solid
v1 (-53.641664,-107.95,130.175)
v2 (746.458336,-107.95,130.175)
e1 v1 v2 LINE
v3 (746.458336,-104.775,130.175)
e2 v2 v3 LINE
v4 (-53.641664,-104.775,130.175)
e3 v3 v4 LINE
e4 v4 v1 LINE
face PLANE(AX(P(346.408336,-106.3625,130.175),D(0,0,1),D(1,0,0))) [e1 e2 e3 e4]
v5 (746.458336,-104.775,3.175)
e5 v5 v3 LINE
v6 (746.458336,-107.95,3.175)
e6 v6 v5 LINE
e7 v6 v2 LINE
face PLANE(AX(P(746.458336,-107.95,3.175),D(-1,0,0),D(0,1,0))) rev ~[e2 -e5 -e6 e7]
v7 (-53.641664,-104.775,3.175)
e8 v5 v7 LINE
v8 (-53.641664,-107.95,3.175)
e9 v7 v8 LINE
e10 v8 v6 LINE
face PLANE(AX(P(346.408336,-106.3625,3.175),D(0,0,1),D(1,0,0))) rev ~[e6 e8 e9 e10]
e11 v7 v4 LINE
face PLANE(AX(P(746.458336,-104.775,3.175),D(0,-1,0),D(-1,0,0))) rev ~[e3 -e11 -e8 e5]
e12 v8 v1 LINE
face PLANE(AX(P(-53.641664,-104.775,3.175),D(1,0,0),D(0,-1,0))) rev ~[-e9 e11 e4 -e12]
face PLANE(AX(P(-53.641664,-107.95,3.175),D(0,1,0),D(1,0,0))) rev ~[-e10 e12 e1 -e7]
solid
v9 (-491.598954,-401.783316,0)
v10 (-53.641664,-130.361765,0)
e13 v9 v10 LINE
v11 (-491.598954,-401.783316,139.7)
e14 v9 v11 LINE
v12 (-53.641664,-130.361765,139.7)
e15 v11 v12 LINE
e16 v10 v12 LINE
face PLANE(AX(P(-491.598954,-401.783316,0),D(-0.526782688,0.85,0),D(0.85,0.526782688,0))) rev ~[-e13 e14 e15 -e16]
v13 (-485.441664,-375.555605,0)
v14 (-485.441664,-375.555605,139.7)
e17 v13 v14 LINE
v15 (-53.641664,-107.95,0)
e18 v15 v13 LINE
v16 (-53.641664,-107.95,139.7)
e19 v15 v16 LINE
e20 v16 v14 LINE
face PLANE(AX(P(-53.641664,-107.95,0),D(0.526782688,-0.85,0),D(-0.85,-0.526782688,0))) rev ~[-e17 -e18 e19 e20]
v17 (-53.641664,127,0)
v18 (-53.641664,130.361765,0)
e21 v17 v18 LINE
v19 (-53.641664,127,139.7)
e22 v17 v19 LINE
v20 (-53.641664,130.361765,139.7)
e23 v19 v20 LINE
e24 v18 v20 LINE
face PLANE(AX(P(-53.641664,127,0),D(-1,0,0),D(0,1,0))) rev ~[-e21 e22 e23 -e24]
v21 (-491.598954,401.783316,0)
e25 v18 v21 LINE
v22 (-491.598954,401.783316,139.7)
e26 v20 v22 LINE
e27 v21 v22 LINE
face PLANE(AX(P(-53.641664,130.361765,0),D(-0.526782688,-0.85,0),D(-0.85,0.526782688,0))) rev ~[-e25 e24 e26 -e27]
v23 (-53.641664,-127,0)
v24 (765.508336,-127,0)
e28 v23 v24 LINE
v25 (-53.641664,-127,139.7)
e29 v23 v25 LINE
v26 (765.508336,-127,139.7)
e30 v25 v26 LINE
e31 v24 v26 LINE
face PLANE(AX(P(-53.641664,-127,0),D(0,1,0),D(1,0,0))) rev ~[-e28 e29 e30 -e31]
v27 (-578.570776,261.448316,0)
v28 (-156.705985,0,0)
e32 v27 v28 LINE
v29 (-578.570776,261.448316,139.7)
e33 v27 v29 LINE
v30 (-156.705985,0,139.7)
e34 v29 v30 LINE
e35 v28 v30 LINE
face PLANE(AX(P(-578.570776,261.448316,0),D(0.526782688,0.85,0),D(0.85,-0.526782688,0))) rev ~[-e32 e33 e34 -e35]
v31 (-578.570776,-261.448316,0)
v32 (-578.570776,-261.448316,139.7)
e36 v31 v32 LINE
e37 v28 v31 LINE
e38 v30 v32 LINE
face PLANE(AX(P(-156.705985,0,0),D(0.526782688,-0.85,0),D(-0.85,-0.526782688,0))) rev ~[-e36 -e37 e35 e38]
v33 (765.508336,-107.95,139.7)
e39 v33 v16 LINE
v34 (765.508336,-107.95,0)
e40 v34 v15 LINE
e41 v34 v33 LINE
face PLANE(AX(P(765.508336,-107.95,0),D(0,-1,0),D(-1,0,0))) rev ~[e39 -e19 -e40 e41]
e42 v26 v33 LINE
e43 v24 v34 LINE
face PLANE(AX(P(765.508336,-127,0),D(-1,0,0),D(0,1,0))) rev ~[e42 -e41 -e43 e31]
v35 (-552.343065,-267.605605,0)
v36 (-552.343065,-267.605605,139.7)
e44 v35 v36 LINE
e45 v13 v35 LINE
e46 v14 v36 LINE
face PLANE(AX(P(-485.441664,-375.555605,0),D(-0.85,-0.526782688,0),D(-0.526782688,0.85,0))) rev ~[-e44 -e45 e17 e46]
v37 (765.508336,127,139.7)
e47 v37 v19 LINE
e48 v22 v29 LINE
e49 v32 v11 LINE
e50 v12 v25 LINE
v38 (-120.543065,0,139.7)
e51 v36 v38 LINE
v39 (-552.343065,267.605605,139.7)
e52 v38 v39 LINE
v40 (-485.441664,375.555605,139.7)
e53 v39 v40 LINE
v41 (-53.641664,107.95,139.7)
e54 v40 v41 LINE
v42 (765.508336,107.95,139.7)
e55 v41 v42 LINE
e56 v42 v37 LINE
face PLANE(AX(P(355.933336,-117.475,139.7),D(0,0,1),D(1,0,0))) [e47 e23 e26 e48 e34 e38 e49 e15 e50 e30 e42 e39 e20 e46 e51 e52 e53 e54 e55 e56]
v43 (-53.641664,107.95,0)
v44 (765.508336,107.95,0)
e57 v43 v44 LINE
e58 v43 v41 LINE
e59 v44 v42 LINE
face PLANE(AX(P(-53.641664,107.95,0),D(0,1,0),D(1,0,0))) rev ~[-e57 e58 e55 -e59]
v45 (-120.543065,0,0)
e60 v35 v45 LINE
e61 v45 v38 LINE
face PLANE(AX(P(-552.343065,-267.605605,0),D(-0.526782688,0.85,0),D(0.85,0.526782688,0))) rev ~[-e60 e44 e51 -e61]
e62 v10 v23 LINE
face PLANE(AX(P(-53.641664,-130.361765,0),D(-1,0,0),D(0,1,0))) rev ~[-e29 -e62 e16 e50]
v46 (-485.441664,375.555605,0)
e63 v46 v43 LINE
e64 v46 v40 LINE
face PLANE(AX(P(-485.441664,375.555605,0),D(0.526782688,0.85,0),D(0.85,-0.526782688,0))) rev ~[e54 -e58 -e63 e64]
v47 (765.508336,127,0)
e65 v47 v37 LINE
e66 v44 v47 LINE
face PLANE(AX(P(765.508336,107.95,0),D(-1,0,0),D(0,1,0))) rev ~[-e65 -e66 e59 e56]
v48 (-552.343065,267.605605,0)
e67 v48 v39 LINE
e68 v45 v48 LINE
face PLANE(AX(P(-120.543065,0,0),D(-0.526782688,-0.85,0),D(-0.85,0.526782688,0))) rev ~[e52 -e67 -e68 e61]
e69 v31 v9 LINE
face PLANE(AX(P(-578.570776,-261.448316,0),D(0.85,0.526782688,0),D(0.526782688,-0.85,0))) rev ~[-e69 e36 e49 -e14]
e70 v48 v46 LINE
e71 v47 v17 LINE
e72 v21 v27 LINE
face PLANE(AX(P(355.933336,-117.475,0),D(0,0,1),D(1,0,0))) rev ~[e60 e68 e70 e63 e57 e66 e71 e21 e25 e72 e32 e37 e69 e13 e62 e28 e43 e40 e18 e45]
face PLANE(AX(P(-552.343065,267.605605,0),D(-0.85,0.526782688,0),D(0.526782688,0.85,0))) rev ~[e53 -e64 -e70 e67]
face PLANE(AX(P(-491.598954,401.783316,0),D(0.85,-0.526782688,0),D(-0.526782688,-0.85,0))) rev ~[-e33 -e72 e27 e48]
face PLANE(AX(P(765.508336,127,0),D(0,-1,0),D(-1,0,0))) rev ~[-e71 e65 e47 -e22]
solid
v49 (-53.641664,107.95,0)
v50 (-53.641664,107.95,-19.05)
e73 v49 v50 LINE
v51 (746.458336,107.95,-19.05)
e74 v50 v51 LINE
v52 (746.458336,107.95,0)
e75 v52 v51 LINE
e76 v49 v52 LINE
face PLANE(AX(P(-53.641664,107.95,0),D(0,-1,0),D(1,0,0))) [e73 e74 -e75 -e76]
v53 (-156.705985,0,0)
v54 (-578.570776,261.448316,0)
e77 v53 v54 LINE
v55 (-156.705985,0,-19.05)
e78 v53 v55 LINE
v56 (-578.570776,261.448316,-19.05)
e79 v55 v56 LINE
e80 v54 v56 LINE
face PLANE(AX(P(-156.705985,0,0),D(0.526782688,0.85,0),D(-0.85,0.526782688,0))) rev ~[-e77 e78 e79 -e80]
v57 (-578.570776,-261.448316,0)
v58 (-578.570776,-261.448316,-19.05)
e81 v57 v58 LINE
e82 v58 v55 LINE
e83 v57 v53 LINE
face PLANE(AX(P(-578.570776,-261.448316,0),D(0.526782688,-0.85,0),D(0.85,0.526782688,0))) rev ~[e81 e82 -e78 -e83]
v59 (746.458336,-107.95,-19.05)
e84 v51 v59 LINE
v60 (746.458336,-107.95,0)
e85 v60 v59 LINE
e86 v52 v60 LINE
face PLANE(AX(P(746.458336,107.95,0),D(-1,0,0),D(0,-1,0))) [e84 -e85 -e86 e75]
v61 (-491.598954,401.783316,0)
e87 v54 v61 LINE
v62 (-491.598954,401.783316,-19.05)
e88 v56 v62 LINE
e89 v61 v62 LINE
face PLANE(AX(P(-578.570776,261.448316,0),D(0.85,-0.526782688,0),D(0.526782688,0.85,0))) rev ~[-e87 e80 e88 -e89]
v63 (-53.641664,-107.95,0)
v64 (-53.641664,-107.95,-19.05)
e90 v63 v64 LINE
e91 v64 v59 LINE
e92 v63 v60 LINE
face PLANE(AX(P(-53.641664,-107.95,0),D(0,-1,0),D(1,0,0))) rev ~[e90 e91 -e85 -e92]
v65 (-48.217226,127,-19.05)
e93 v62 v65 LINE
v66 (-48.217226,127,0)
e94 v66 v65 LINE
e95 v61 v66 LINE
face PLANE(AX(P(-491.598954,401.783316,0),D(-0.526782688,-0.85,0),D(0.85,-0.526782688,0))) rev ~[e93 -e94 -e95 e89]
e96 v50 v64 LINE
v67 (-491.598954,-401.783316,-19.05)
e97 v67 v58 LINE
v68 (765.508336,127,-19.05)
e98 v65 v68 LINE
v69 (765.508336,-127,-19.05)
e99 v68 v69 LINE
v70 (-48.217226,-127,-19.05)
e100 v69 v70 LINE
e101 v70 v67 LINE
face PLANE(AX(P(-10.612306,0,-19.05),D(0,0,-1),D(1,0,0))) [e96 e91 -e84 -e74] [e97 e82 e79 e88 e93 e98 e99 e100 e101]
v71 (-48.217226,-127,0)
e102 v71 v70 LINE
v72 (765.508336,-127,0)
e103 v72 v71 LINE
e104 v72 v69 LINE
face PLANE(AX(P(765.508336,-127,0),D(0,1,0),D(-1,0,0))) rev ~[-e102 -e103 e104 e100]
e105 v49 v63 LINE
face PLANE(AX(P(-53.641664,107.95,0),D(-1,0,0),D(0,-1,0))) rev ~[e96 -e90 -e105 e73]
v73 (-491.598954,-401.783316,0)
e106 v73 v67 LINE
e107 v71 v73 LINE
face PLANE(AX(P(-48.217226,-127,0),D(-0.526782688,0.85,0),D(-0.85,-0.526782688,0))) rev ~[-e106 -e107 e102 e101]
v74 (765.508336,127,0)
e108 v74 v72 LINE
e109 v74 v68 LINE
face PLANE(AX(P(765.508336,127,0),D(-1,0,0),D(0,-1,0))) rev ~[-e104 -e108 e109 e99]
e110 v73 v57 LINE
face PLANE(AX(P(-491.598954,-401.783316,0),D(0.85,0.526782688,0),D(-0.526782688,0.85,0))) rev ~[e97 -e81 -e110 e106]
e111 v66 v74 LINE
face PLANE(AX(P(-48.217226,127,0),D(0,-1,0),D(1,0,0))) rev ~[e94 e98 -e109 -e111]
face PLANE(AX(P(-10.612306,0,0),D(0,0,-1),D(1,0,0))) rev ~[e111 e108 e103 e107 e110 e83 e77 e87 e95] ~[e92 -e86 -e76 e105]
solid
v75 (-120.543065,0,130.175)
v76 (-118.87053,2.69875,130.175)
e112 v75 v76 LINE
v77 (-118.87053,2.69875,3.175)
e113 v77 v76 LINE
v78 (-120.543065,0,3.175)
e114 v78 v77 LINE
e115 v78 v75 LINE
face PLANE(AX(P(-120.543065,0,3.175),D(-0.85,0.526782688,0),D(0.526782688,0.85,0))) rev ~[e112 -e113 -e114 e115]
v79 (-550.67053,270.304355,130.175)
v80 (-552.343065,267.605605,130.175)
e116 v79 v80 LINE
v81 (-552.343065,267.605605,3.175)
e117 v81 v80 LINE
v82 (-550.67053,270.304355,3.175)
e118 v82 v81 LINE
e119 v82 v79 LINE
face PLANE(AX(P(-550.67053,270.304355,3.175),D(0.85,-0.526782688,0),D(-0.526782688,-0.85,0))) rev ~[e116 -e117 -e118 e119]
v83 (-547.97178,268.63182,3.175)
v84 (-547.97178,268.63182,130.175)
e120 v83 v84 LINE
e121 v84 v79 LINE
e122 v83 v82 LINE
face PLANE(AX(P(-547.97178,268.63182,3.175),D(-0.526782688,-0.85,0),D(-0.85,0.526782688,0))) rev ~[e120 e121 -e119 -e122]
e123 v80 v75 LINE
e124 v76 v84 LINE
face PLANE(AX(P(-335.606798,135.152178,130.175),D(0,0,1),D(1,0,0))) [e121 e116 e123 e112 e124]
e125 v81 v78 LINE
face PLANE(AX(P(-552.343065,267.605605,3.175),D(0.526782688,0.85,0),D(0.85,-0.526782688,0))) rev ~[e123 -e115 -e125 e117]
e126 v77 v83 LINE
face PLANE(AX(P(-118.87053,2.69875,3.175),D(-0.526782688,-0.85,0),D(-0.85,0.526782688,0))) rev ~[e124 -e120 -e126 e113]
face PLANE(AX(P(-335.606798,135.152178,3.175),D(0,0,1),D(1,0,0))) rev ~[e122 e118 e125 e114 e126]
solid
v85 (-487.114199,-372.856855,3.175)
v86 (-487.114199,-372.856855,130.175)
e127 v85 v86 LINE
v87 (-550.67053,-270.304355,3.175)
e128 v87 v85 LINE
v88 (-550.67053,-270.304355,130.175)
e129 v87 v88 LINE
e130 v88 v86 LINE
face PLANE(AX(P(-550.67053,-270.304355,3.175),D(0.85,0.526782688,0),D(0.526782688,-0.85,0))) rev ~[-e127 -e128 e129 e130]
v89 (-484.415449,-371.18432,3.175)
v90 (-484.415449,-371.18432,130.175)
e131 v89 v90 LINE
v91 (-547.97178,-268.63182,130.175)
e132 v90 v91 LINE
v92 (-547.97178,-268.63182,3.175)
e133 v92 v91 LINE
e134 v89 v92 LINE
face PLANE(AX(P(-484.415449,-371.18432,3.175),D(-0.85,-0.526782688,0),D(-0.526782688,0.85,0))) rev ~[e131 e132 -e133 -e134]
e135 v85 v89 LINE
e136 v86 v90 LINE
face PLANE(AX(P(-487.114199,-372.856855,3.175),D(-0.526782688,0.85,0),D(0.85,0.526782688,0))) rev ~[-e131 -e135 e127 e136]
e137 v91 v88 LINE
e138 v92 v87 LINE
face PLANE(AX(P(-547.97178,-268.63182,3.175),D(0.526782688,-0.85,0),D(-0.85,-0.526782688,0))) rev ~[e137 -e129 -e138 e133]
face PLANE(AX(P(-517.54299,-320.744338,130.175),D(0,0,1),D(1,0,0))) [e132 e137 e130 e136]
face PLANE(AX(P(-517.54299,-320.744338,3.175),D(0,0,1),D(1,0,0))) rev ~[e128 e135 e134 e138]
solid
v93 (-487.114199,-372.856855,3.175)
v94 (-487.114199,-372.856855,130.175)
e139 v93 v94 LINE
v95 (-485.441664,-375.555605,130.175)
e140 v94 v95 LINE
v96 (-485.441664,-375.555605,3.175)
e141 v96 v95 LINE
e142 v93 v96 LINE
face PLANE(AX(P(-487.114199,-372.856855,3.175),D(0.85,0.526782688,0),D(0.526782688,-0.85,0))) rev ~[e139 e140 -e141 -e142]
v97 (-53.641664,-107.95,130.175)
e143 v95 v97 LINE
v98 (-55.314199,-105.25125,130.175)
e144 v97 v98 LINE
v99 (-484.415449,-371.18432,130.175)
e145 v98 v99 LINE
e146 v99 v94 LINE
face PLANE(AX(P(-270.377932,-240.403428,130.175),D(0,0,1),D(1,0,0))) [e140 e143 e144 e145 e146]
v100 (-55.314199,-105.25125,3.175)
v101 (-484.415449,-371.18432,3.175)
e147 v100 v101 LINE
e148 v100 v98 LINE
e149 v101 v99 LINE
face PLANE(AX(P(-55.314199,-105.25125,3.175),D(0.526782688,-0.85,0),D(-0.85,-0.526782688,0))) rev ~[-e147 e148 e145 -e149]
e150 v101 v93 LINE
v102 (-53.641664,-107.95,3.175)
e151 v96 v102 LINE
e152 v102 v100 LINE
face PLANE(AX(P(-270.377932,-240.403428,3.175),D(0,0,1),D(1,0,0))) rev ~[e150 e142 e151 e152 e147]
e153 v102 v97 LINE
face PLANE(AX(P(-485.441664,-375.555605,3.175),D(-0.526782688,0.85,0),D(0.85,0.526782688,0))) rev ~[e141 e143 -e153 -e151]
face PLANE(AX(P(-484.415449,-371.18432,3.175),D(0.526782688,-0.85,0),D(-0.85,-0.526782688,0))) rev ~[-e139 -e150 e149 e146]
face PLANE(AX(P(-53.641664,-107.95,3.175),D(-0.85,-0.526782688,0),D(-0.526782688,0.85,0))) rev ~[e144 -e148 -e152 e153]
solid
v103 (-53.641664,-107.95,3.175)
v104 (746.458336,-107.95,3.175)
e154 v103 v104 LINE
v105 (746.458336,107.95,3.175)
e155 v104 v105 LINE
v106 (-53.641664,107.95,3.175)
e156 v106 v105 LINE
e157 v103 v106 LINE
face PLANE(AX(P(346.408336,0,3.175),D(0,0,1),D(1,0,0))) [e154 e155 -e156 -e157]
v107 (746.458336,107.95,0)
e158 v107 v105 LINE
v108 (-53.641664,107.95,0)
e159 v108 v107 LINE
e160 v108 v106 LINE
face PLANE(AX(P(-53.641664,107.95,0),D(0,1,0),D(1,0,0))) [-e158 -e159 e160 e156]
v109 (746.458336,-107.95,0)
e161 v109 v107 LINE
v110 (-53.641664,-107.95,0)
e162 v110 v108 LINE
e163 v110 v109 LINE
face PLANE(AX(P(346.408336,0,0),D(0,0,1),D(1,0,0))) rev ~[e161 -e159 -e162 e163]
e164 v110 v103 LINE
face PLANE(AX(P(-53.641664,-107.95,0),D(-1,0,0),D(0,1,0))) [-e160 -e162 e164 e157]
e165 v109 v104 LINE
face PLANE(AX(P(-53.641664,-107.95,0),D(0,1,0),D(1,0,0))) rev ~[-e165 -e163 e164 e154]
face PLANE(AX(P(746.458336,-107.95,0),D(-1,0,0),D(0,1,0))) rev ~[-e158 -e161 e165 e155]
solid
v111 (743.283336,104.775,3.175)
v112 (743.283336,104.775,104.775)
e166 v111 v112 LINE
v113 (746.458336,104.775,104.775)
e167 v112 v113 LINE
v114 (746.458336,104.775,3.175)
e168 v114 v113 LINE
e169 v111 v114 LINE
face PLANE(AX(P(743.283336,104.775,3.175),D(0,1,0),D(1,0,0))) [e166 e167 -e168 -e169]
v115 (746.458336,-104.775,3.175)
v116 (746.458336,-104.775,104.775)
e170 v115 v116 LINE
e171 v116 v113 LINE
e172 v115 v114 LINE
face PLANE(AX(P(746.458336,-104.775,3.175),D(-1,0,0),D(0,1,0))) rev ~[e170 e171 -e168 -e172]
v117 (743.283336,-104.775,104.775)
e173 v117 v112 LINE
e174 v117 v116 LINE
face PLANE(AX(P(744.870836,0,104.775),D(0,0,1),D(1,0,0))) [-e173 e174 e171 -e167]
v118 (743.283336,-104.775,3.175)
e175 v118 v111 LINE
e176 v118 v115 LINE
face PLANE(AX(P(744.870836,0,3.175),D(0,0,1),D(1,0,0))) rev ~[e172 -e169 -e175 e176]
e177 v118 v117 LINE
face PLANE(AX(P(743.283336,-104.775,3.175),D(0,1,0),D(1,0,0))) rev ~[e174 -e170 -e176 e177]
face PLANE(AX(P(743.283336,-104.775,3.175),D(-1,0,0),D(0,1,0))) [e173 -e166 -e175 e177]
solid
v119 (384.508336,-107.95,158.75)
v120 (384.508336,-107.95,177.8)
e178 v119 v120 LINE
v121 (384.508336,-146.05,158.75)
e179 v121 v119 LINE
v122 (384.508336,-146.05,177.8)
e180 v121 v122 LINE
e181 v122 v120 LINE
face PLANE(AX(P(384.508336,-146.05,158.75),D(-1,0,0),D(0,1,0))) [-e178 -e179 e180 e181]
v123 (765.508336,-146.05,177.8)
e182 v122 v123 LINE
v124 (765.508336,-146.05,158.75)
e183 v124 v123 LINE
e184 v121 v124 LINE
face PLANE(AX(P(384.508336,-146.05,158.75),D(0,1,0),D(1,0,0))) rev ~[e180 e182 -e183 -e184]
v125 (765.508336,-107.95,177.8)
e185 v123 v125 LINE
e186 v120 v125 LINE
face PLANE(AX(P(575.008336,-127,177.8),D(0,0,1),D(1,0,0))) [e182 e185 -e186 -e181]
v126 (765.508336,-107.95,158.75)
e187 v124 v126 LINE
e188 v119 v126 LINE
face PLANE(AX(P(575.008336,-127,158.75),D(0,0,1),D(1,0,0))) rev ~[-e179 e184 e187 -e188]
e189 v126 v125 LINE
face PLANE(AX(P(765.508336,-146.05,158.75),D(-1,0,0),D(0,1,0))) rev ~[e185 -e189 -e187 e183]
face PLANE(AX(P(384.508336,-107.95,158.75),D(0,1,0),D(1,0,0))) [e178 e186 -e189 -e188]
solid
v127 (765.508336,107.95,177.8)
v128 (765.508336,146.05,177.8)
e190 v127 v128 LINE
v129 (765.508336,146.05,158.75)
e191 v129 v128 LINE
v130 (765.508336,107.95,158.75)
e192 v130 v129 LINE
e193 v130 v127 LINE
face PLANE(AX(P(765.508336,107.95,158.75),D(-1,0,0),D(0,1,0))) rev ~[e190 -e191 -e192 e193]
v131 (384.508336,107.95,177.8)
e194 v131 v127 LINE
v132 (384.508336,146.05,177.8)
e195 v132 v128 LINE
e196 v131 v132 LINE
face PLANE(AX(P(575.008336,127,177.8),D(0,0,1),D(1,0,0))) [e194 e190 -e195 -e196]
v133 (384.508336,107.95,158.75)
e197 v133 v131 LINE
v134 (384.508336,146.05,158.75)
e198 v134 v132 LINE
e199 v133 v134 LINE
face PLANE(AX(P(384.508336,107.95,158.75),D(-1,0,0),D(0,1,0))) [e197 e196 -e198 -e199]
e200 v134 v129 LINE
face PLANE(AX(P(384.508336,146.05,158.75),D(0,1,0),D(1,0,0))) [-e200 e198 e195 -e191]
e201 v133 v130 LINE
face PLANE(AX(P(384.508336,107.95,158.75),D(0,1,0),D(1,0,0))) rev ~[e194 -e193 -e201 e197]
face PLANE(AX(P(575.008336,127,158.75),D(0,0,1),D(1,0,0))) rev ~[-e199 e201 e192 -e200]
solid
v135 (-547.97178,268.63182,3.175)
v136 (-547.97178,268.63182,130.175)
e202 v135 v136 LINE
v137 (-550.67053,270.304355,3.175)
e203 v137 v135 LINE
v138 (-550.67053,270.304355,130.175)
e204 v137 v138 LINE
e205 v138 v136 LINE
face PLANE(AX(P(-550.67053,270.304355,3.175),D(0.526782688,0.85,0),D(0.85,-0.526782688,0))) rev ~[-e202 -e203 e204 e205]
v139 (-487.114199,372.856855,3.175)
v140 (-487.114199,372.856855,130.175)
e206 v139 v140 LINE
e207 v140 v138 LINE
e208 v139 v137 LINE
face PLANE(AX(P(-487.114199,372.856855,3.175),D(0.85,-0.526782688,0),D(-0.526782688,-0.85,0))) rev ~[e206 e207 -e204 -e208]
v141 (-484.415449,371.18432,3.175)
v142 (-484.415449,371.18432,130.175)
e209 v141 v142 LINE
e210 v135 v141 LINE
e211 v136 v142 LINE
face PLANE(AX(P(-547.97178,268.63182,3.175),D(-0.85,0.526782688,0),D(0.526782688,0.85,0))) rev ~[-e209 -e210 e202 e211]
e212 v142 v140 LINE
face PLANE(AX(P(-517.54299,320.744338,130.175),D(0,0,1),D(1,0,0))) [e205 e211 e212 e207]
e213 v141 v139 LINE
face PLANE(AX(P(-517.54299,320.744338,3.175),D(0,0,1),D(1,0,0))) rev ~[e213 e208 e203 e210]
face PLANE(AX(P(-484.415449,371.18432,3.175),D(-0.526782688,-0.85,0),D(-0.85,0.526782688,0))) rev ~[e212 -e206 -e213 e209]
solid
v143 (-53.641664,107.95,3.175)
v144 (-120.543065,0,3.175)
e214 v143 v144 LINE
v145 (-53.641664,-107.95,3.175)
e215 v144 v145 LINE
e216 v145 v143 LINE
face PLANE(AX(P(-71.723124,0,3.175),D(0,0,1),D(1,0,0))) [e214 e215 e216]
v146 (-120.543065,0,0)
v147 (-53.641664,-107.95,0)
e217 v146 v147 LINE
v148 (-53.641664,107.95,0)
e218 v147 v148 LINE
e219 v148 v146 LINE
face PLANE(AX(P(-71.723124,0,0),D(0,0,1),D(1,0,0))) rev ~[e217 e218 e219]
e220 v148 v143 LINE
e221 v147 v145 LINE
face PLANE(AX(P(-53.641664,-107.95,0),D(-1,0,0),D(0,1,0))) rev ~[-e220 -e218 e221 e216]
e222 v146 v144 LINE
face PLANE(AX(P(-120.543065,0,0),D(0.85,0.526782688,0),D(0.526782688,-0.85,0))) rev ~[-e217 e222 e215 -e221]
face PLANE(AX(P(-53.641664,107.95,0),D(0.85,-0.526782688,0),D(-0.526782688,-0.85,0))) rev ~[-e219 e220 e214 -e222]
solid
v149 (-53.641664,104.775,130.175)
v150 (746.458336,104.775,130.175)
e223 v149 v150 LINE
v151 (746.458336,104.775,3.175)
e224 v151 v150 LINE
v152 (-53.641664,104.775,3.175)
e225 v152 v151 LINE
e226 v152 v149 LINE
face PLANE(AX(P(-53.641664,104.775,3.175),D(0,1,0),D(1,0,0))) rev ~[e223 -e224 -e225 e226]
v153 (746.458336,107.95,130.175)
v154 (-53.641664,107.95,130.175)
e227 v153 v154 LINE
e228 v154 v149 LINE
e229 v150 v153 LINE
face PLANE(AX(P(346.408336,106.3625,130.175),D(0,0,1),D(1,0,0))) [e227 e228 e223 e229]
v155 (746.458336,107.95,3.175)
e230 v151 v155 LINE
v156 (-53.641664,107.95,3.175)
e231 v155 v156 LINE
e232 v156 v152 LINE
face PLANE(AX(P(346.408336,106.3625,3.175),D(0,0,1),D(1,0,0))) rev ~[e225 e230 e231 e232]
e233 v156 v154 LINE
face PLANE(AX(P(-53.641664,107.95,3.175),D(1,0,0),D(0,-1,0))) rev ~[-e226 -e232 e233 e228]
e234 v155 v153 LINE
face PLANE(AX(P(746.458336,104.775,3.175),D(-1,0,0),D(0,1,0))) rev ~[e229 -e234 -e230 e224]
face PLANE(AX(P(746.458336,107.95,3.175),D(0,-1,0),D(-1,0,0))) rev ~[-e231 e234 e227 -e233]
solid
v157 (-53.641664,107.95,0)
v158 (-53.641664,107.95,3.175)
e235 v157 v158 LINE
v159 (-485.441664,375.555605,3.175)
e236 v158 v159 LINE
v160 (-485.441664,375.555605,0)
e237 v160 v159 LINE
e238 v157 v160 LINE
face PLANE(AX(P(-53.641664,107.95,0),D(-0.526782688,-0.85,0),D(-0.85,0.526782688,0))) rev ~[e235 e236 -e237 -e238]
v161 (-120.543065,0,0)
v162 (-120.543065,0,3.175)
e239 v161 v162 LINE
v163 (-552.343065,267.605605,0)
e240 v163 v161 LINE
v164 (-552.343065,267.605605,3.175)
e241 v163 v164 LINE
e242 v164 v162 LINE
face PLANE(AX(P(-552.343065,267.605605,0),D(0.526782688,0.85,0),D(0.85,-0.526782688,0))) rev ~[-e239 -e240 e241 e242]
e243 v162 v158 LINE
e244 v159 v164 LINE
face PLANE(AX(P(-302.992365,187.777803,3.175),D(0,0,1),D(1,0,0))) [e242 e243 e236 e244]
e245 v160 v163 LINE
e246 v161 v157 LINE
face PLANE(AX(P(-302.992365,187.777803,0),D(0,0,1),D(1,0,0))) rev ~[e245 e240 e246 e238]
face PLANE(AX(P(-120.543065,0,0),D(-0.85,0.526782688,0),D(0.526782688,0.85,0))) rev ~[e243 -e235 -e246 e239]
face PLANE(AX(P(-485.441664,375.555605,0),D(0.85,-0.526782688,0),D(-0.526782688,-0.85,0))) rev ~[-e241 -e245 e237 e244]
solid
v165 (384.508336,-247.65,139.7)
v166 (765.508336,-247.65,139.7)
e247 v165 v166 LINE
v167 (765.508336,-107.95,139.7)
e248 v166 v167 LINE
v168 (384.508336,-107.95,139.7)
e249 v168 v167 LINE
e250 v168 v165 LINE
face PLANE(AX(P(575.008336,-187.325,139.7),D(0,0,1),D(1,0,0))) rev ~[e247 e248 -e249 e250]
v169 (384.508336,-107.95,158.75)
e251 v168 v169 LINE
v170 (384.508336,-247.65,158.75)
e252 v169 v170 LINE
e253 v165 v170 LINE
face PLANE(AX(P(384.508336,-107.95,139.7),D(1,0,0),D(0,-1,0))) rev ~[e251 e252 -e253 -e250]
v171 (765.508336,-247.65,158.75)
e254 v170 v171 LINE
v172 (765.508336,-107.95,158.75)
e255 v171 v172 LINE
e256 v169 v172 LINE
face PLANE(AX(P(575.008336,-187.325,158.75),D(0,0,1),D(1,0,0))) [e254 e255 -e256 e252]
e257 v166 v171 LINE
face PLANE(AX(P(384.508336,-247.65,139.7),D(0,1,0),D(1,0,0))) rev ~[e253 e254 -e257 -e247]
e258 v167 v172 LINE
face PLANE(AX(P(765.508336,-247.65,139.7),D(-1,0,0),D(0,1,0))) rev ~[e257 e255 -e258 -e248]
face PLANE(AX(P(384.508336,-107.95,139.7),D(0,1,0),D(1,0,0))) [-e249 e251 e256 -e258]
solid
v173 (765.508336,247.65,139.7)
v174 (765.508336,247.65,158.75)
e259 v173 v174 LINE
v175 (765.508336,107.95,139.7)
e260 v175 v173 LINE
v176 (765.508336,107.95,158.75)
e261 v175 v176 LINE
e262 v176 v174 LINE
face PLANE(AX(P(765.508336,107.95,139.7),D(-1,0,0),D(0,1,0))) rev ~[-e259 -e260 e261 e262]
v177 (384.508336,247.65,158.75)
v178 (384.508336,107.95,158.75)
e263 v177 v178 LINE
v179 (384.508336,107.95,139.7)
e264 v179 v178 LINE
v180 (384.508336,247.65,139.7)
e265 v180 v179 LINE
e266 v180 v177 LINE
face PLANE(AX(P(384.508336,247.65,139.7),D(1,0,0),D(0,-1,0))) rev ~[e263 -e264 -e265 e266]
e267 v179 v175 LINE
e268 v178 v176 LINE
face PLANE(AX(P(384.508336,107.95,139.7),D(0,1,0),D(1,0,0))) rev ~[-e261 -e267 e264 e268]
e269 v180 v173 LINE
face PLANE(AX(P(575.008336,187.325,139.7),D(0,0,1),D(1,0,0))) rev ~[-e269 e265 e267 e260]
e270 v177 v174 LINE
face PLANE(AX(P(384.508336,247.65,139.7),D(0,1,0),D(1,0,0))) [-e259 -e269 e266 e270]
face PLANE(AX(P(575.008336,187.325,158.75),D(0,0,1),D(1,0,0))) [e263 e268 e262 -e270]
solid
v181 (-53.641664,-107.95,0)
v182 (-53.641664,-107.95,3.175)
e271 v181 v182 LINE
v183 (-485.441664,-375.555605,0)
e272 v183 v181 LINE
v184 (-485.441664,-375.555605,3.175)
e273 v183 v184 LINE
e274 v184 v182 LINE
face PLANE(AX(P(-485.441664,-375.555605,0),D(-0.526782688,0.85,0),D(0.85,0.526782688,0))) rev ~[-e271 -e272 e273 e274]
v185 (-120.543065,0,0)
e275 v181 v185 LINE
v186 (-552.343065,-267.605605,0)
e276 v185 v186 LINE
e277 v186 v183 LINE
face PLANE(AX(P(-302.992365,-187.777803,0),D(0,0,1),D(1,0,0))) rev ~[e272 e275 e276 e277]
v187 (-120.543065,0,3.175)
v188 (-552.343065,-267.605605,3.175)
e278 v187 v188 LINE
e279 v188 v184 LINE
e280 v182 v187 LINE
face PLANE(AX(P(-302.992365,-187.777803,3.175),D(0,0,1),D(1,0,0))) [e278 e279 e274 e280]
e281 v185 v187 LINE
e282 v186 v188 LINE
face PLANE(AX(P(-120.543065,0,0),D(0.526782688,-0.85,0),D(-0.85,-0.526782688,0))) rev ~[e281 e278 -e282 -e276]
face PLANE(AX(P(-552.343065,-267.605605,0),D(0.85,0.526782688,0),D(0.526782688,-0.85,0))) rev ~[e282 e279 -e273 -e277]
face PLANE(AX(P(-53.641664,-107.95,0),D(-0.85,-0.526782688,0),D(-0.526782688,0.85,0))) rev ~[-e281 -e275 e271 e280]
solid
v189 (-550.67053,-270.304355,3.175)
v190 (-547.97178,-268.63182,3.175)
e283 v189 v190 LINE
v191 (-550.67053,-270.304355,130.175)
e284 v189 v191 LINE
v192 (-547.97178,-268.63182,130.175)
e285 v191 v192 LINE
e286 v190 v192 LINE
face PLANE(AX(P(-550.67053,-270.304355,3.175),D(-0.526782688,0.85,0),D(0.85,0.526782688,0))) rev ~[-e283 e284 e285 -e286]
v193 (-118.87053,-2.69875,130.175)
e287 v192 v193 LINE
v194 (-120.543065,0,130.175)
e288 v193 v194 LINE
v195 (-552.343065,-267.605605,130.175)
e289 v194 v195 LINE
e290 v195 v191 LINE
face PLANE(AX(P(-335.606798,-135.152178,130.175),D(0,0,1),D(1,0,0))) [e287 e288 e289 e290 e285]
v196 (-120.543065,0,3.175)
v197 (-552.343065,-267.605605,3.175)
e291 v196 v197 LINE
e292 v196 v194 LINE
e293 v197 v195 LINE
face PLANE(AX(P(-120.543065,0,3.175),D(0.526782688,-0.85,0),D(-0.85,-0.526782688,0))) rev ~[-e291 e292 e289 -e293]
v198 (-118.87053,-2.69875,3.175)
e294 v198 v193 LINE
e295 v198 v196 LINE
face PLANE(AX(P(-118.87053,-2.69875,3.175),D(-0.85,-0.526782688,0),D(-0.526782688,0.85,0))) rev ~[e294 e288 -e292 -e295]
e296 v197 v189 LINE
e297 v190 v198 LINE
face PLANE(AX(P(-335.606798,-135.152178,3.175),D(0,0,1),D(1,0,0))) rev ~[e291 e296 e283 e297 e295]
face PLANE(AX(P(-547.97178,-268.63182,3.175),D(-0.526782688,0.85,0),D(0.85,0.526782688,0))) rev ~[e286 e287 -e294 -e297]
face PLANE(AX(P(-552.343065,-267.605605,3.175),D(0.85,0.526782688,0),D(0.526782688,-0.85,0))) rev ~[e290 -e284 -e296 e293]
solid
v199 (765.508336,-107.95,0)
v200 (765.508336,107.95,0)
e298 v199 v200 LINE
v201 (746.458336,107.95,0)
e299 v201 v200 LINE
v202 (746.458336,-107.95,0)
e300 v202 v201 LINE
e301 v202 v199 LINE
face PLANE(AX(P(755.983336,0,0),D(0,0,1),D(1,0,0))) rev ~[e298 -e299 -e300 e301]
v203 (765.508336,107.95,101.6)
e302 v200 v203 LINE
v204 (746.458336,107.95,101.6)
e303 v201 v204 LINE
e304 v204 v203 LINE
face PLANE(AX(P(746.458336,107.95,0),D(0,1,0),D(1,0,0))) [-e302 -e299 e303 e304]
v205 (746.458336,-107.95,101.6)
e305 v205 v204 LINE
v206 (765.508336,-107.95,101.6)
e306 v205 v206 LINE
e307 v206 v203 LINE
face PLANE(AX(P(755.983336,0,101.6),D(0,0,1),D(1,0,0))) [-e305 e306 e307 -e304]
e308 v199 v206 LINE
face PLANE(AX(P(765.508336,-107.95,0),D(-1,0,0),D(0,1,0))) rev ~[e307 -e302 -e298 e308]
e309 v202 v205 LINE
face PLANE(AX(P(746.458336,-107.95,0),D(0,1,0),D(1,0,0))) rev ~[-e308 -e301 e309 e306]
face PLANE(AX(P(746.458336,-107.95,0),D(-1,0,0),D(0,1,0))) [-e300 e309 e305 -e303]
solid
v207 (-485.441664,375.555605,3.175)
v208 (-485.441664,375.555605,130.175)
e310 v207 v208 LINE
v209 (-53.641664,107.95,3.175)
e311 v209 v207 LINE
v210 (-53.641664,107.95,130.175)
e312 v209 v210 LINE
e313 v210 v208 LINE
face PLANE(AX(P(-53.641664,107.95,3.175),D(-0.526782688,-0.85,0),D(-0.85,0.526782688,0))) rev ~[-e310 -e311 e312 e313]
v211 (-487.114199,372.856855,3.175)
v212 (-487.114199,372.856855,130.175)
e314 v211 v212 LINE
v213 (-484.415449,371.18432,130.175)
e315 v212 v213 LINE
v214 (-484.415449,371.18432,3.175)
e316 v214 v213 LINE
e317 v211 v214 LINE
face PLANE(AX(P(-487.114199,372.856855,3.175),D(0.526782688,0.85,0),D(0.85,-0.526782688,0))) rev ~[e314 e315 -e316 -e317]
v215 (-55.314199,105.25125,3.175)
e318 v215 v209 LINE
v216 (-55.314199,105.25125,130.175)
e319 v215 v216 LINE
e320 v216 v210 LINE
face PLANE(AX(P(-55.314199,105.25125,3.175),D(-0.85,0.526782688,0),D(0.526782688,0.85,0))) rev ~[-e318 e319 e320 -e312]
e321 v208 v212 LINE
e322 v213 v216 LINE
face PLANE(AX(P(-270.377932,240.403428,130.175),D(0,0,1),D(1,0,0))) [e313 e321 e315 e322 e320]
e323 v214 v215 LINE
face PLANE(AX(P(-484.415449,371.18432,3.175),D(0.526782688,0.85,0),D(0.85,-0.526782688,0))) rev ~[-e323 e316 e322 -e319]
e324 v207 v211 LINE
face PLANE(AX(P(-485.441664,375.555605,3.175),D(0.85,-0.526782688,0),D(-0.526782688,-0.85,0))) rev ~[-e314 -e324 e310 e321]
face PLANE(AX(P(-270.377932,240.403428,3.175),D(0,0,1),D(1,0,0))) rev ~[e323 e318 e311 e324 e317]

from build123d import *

# Parameters (mm, degrees)
F1_DEPTH  = 3.175
F2_DEPTH  = 3.175
F3_DEPTH  = 3.175
F0_W      = 800.1
F0_H      = 215.9
F4_DEPTH  = 3.175
F6_DEPTH  = 127
F7_DEPTH  = 127
F8_DEPTH  = 127
F9_DEPTH  = 127
F10_DEPTH = 127
F11_DEPTH = 127
F12_DEPTH = 127
F5_W      = 3.175
F5_H      = 209.55
F13_DEPTH = 101.6
F14_DEPTH = 127
F15_W     = 800.1
F15_H     = 215.9
F16_DEPTH = 19.05
F18_DEPTH = 139.7
F17_W     = 19.05
F17_H     = 215.9
F19_DEPTH = 101.6
F20_W     = 381
F20_H     = 120.65
F20_H_2   = 19.05
F21_DEPTH = 19.05
F22_W     = 381
F22_H     = 38.1
F23_DEPTH = 19.05


with BuildPart() as f1:
    # F0 (on Top) → F1 (new body)
    with BuildSketch(Plane.XY):
        Polygon((-120.5430654606, 0), (-53.64166413, 107.95), (-485.44166413, 375.5556053225), (-552.3430654606, 267.6056053225), align=None)
    extrude(amount=F1_DEPTH)


with BuildPart() as f2:
    # F0 (on Top) → F2 (new body)
    with BuildSketch(Plane.XY):
        Polygon((-485.44166413, -375.5556053225), (-53.64166413, -107.95), (-120.5430654606, 0), (-552.3430654606, -267.6056053225), align=None)
    extrude(amount=F2_DEPTH)


with BuildPart() as f3:
    # F0 (on Top) → F3 (new body)
    with BuildSketch(Plane.XY):
        Polygon((-120.5430654606, 0), (-53.64166413, -107.95), (-53.64166413, 107.95), align=None)
    extrude(amount=F3_DEPTH)


with BuildPart() as f4:
    # F0 (on Top) → F4 (new body)
    with BuildSketch(Plane.XY):
        with Locations((346.40833587, 0)):
            Rectangle(F0_W, F0_H)
    extrude(amount=F4_DEPTH)


with BuildPart() as f6:
    # F5 (on face) → F6 (new body)
    with BuildSketch(Plane.XY.offset(3.175)):
        Polygon((-485.44166413, -375.5556053225), (-53.64166413, -107.95), (-55.3141991632, -105.25125), (-484.4154491632, -371.1843202892), (-487.1141991632, -372.8568553225), align=None)
    extrude(amount=F6_DEPTH)


with BuildPart() as f7:
    # F5 (on face) → F7 (new body)
    with BuildSketch(Plane.XY.offset(3.175)):
        Polygon((-550.6705304273, -270.3043553225), (-487.1141991632, -372.8568553225), (-484.4154491632, -371.1843202892), (-547.9717804273, -268.6318202892), align=None)
    extrude(amount=F7_DEPTH)


with BuildPart() as f8:
    # F5 (on face) → F8 (new body)
    with BuildSketch(Plane.XY.offset(3.175)):
        Polygon((-552.3430654606, -267.6056053225), (-550.6705304273, -270.3043553225), (-547.9717804273, -268.6318202892), (-118.8705304273, -2.69875), (-120.5430654606, 0), align=None)
    extrude(amount=F8_DEPTH)


with BuildPart() as f9:
    # F5 (on face) → F9 (new body)
    with BuildSketch(Plane.XY.offset(3.175)):
        Polygon((-547.9717804273, 268.6318202892), (-550.6705304273, 270.3043553225), (-552.3430654606, 267.6056053225), (-120.5430654606, 0), (-118.8705304273, 2.69875), align=None)
    extrude(amount=F9_DEPTH)


with BuildPart() as f10:
    # F5 (on face) → F10 (new body)
    with BuildSketch(Plane.XY.offset(3.175)):
        Polygon((-55.3141991632, 105.25125), (-53.64166413, 107.95), (-485.44166413, 375.5556053225), (-487.1141991632, 372.8568553225), (-484.4154491632, 371.1843202892), align=None)
    extrude(amount=F10_DEPTH)


with BuildPart() as f11:
    # F5 (on face) → F11 (new body)
    with BuildSketch(Plane.XY.offset(3.175)):
        Polygon((-484.4154491632, 371.1843202892), (-487.1141991632, 372.8568553225), (-550.6705304273, 270.3043553225), (-547.9717804273, 268.6318202892), align=None)
    extrude(amount=F11_DEPTH)


with BuildPart() as f12:
    # F5 (on face) → F12 (new body)
    with BuildSketch(Plane.XY.offset(3.175)):
        Polygon((743.28333587, -104.775), (-53.64166413, -104.775), (-53.64166413, -107.95), (746.45833587, -107.95), (746.45833587, -104.775), align=None)
    extrude(amount=F12_DEPTH)


with BuildPart() as f13:
    # F5 (on face) → F13 (new body)
    with BuildSketch(Plane.XY.offset(3.175)):
        with Locations((744.87083587, 0)):
            Rectangle(F5_W, F5_H)
    extrude(amount=F13_DEPTH)


with BuildPart() as f14:
    # F5 (on face) → F14 (new body)
    with BuildSketch(Plane.XY.offset(3.175)):
        Polygon((-53.64166413, 107.95), (-53.64166413, 104.775), (743.28333587, 104.775), (746.45833587, 104.775), (746.45833587, 107.95), align=None)
    extrude(amount=F14_DEPTH)


with BuildPart() as f16:
    # F15 (on face) → F16 (new body)
    with BuildSketch(Plane(origin=(0, 0, 0), x_dir=(1, 0, 0), z_dir=(0, 0, -1))):
        Polygon((765.50833587, -127), (765.50833587, 127), (-48.2172261842, 127), (-491.5989539304, 401.7833155221), (-578.5707756602, 261.4483155221), (-156.7059850987, 0), (-578.5707756602, -261.4483155221), (-491.5989539304, -401.7833155221), (-48.2172261842, -127), align=None)
        with Locations((346.40833587, 0)):
            Rectangle(F15_W, F15_H, mode=Mode.SUBTRACT)
    extrude(amount=F16_DEPTH)


with BuildPart() as f18:
    # F17 (on face) → F18 (new body)
    with BuildSketch(Plane.XY):
        Polygon((746.45833587, -107.95), (-53.64166413, -107.95), (-53.64166413, -127), (-48.2172261842, -127), (765.50833587, -127), (765.50833587, -107.95), align=None)
        Polygon((-53.64166413, -127), (-53.64166413, -107.95), (-485.44166413, -375.5556053225), (-501.63416413, -385.5908155221), (-491.5989539304, -401.7833155221), (-53.64166413, -130.3617647059), align=None)
        Polygon((-568.5355654606, -277.6408155221), (-552.3430654606, -267.6056053225), (-120.5430654606, 0), (-156.7059850987, 0), (-578.5707756602, -261.4483155221), align=None)
        Polygon((-156.7059850987, 0), (-120.5430654606, 0), (-552.3430654606, 267.6056053225), (-568.5355654606, 277.6408155221), (-578.5707756602, 261.4483155221), align=None)
        Polygon((-485.44166413, 375.5556053225), (-53.64166413, 107.95), (-53.64166413, 127), (-53.64166413, 130.3617647059), (-491.5989539304, 401.7833155221), (-501.63416413, 385.5908155221), align=None)
        Polygon((-53.64166413, 127), (-53.64166413, 107.95), (746.45833587, 107.95), (765.50833587, 107.95), (765.50833587, 127), (-48.2172261842, 127), align=None)
        Polygon((-552.3430654606, 267.6056053225), (-485.44166413, 375.5556053225), (-501.63416413, 385.5908155221), (-568.5355654606, 277.6408155221), align=None)
        Polygon((-501.63416413, -385.5908155221), (-485.44166413, -375.5556053225), (-552.3430654606, -267.6056053225), (-568.5355654606, -277.6408155221), align=None)
    extrude(amount=F18_DEPTH)


with BuildPart() as f19:
    # F17 (on face) → F19 (new body)
    with BuildSketch(Plane.XY):
        with Locations((755.98333587, 0)):
            Rectangle(F17_W, F17_H)
    extrude(amount=F19_DEPTH)


with BuildPart() as f21:
    # F20 (on face) → F21 (new body)
    with BuildSketch(Plane.XY.offset(139.7)):
        with Locations((575.00833587, -187.325)):
            Rectangle(F20_W, F20_H)
        with Locations((575.00833587, -117.475)):
            Rectangle(F20_W, F20_H_2)
    extrude(amount=F21_DEPTH)


with BuildPart() as f21b:
    # F20 (on face) → F21, piece 2 (new body)
    with BuildSketch(Plane.XY.offset(139.7)):
        with Locations((575.00833587, 187.325)):
            Rectangle(F20_W, F20_H)
        with Locations((575.00833587, 117.475)):
            Rectangle(F20_W, F20_H_2)
    extrude(amount=F21_DEPTH)


with BuildPart() as f23:
    # F22 (on face) → F23 (new body)
    with BuildSketch(Plane.XY.offset(158.75)):
        with Locations((575.00833587, -127)):
            Rectangle(F22_W, F22_H)
    extrude(amount=F23_DEPTH)


with BuildPart() as f23b:
    # F22 (on face) → F23, piece 2 (new body)
    with BuildSketch(Plane.XY.offset(158.75)):
        with Locations((575.00833587, 127)):
            Rectangle(F22_W, F22_H)
    extrude(amount=F23_DEPTH)


solid = Compound([f1.part, f2.part, f3.part, f4.part, f6.part, f7.part, f8.part, f9.part, f10.part, f11.part, f12.part, f13.part, f14.part, f16.part, f18.part, f19.part, f21.part, f21b.part, f23.part, f23b.part])
